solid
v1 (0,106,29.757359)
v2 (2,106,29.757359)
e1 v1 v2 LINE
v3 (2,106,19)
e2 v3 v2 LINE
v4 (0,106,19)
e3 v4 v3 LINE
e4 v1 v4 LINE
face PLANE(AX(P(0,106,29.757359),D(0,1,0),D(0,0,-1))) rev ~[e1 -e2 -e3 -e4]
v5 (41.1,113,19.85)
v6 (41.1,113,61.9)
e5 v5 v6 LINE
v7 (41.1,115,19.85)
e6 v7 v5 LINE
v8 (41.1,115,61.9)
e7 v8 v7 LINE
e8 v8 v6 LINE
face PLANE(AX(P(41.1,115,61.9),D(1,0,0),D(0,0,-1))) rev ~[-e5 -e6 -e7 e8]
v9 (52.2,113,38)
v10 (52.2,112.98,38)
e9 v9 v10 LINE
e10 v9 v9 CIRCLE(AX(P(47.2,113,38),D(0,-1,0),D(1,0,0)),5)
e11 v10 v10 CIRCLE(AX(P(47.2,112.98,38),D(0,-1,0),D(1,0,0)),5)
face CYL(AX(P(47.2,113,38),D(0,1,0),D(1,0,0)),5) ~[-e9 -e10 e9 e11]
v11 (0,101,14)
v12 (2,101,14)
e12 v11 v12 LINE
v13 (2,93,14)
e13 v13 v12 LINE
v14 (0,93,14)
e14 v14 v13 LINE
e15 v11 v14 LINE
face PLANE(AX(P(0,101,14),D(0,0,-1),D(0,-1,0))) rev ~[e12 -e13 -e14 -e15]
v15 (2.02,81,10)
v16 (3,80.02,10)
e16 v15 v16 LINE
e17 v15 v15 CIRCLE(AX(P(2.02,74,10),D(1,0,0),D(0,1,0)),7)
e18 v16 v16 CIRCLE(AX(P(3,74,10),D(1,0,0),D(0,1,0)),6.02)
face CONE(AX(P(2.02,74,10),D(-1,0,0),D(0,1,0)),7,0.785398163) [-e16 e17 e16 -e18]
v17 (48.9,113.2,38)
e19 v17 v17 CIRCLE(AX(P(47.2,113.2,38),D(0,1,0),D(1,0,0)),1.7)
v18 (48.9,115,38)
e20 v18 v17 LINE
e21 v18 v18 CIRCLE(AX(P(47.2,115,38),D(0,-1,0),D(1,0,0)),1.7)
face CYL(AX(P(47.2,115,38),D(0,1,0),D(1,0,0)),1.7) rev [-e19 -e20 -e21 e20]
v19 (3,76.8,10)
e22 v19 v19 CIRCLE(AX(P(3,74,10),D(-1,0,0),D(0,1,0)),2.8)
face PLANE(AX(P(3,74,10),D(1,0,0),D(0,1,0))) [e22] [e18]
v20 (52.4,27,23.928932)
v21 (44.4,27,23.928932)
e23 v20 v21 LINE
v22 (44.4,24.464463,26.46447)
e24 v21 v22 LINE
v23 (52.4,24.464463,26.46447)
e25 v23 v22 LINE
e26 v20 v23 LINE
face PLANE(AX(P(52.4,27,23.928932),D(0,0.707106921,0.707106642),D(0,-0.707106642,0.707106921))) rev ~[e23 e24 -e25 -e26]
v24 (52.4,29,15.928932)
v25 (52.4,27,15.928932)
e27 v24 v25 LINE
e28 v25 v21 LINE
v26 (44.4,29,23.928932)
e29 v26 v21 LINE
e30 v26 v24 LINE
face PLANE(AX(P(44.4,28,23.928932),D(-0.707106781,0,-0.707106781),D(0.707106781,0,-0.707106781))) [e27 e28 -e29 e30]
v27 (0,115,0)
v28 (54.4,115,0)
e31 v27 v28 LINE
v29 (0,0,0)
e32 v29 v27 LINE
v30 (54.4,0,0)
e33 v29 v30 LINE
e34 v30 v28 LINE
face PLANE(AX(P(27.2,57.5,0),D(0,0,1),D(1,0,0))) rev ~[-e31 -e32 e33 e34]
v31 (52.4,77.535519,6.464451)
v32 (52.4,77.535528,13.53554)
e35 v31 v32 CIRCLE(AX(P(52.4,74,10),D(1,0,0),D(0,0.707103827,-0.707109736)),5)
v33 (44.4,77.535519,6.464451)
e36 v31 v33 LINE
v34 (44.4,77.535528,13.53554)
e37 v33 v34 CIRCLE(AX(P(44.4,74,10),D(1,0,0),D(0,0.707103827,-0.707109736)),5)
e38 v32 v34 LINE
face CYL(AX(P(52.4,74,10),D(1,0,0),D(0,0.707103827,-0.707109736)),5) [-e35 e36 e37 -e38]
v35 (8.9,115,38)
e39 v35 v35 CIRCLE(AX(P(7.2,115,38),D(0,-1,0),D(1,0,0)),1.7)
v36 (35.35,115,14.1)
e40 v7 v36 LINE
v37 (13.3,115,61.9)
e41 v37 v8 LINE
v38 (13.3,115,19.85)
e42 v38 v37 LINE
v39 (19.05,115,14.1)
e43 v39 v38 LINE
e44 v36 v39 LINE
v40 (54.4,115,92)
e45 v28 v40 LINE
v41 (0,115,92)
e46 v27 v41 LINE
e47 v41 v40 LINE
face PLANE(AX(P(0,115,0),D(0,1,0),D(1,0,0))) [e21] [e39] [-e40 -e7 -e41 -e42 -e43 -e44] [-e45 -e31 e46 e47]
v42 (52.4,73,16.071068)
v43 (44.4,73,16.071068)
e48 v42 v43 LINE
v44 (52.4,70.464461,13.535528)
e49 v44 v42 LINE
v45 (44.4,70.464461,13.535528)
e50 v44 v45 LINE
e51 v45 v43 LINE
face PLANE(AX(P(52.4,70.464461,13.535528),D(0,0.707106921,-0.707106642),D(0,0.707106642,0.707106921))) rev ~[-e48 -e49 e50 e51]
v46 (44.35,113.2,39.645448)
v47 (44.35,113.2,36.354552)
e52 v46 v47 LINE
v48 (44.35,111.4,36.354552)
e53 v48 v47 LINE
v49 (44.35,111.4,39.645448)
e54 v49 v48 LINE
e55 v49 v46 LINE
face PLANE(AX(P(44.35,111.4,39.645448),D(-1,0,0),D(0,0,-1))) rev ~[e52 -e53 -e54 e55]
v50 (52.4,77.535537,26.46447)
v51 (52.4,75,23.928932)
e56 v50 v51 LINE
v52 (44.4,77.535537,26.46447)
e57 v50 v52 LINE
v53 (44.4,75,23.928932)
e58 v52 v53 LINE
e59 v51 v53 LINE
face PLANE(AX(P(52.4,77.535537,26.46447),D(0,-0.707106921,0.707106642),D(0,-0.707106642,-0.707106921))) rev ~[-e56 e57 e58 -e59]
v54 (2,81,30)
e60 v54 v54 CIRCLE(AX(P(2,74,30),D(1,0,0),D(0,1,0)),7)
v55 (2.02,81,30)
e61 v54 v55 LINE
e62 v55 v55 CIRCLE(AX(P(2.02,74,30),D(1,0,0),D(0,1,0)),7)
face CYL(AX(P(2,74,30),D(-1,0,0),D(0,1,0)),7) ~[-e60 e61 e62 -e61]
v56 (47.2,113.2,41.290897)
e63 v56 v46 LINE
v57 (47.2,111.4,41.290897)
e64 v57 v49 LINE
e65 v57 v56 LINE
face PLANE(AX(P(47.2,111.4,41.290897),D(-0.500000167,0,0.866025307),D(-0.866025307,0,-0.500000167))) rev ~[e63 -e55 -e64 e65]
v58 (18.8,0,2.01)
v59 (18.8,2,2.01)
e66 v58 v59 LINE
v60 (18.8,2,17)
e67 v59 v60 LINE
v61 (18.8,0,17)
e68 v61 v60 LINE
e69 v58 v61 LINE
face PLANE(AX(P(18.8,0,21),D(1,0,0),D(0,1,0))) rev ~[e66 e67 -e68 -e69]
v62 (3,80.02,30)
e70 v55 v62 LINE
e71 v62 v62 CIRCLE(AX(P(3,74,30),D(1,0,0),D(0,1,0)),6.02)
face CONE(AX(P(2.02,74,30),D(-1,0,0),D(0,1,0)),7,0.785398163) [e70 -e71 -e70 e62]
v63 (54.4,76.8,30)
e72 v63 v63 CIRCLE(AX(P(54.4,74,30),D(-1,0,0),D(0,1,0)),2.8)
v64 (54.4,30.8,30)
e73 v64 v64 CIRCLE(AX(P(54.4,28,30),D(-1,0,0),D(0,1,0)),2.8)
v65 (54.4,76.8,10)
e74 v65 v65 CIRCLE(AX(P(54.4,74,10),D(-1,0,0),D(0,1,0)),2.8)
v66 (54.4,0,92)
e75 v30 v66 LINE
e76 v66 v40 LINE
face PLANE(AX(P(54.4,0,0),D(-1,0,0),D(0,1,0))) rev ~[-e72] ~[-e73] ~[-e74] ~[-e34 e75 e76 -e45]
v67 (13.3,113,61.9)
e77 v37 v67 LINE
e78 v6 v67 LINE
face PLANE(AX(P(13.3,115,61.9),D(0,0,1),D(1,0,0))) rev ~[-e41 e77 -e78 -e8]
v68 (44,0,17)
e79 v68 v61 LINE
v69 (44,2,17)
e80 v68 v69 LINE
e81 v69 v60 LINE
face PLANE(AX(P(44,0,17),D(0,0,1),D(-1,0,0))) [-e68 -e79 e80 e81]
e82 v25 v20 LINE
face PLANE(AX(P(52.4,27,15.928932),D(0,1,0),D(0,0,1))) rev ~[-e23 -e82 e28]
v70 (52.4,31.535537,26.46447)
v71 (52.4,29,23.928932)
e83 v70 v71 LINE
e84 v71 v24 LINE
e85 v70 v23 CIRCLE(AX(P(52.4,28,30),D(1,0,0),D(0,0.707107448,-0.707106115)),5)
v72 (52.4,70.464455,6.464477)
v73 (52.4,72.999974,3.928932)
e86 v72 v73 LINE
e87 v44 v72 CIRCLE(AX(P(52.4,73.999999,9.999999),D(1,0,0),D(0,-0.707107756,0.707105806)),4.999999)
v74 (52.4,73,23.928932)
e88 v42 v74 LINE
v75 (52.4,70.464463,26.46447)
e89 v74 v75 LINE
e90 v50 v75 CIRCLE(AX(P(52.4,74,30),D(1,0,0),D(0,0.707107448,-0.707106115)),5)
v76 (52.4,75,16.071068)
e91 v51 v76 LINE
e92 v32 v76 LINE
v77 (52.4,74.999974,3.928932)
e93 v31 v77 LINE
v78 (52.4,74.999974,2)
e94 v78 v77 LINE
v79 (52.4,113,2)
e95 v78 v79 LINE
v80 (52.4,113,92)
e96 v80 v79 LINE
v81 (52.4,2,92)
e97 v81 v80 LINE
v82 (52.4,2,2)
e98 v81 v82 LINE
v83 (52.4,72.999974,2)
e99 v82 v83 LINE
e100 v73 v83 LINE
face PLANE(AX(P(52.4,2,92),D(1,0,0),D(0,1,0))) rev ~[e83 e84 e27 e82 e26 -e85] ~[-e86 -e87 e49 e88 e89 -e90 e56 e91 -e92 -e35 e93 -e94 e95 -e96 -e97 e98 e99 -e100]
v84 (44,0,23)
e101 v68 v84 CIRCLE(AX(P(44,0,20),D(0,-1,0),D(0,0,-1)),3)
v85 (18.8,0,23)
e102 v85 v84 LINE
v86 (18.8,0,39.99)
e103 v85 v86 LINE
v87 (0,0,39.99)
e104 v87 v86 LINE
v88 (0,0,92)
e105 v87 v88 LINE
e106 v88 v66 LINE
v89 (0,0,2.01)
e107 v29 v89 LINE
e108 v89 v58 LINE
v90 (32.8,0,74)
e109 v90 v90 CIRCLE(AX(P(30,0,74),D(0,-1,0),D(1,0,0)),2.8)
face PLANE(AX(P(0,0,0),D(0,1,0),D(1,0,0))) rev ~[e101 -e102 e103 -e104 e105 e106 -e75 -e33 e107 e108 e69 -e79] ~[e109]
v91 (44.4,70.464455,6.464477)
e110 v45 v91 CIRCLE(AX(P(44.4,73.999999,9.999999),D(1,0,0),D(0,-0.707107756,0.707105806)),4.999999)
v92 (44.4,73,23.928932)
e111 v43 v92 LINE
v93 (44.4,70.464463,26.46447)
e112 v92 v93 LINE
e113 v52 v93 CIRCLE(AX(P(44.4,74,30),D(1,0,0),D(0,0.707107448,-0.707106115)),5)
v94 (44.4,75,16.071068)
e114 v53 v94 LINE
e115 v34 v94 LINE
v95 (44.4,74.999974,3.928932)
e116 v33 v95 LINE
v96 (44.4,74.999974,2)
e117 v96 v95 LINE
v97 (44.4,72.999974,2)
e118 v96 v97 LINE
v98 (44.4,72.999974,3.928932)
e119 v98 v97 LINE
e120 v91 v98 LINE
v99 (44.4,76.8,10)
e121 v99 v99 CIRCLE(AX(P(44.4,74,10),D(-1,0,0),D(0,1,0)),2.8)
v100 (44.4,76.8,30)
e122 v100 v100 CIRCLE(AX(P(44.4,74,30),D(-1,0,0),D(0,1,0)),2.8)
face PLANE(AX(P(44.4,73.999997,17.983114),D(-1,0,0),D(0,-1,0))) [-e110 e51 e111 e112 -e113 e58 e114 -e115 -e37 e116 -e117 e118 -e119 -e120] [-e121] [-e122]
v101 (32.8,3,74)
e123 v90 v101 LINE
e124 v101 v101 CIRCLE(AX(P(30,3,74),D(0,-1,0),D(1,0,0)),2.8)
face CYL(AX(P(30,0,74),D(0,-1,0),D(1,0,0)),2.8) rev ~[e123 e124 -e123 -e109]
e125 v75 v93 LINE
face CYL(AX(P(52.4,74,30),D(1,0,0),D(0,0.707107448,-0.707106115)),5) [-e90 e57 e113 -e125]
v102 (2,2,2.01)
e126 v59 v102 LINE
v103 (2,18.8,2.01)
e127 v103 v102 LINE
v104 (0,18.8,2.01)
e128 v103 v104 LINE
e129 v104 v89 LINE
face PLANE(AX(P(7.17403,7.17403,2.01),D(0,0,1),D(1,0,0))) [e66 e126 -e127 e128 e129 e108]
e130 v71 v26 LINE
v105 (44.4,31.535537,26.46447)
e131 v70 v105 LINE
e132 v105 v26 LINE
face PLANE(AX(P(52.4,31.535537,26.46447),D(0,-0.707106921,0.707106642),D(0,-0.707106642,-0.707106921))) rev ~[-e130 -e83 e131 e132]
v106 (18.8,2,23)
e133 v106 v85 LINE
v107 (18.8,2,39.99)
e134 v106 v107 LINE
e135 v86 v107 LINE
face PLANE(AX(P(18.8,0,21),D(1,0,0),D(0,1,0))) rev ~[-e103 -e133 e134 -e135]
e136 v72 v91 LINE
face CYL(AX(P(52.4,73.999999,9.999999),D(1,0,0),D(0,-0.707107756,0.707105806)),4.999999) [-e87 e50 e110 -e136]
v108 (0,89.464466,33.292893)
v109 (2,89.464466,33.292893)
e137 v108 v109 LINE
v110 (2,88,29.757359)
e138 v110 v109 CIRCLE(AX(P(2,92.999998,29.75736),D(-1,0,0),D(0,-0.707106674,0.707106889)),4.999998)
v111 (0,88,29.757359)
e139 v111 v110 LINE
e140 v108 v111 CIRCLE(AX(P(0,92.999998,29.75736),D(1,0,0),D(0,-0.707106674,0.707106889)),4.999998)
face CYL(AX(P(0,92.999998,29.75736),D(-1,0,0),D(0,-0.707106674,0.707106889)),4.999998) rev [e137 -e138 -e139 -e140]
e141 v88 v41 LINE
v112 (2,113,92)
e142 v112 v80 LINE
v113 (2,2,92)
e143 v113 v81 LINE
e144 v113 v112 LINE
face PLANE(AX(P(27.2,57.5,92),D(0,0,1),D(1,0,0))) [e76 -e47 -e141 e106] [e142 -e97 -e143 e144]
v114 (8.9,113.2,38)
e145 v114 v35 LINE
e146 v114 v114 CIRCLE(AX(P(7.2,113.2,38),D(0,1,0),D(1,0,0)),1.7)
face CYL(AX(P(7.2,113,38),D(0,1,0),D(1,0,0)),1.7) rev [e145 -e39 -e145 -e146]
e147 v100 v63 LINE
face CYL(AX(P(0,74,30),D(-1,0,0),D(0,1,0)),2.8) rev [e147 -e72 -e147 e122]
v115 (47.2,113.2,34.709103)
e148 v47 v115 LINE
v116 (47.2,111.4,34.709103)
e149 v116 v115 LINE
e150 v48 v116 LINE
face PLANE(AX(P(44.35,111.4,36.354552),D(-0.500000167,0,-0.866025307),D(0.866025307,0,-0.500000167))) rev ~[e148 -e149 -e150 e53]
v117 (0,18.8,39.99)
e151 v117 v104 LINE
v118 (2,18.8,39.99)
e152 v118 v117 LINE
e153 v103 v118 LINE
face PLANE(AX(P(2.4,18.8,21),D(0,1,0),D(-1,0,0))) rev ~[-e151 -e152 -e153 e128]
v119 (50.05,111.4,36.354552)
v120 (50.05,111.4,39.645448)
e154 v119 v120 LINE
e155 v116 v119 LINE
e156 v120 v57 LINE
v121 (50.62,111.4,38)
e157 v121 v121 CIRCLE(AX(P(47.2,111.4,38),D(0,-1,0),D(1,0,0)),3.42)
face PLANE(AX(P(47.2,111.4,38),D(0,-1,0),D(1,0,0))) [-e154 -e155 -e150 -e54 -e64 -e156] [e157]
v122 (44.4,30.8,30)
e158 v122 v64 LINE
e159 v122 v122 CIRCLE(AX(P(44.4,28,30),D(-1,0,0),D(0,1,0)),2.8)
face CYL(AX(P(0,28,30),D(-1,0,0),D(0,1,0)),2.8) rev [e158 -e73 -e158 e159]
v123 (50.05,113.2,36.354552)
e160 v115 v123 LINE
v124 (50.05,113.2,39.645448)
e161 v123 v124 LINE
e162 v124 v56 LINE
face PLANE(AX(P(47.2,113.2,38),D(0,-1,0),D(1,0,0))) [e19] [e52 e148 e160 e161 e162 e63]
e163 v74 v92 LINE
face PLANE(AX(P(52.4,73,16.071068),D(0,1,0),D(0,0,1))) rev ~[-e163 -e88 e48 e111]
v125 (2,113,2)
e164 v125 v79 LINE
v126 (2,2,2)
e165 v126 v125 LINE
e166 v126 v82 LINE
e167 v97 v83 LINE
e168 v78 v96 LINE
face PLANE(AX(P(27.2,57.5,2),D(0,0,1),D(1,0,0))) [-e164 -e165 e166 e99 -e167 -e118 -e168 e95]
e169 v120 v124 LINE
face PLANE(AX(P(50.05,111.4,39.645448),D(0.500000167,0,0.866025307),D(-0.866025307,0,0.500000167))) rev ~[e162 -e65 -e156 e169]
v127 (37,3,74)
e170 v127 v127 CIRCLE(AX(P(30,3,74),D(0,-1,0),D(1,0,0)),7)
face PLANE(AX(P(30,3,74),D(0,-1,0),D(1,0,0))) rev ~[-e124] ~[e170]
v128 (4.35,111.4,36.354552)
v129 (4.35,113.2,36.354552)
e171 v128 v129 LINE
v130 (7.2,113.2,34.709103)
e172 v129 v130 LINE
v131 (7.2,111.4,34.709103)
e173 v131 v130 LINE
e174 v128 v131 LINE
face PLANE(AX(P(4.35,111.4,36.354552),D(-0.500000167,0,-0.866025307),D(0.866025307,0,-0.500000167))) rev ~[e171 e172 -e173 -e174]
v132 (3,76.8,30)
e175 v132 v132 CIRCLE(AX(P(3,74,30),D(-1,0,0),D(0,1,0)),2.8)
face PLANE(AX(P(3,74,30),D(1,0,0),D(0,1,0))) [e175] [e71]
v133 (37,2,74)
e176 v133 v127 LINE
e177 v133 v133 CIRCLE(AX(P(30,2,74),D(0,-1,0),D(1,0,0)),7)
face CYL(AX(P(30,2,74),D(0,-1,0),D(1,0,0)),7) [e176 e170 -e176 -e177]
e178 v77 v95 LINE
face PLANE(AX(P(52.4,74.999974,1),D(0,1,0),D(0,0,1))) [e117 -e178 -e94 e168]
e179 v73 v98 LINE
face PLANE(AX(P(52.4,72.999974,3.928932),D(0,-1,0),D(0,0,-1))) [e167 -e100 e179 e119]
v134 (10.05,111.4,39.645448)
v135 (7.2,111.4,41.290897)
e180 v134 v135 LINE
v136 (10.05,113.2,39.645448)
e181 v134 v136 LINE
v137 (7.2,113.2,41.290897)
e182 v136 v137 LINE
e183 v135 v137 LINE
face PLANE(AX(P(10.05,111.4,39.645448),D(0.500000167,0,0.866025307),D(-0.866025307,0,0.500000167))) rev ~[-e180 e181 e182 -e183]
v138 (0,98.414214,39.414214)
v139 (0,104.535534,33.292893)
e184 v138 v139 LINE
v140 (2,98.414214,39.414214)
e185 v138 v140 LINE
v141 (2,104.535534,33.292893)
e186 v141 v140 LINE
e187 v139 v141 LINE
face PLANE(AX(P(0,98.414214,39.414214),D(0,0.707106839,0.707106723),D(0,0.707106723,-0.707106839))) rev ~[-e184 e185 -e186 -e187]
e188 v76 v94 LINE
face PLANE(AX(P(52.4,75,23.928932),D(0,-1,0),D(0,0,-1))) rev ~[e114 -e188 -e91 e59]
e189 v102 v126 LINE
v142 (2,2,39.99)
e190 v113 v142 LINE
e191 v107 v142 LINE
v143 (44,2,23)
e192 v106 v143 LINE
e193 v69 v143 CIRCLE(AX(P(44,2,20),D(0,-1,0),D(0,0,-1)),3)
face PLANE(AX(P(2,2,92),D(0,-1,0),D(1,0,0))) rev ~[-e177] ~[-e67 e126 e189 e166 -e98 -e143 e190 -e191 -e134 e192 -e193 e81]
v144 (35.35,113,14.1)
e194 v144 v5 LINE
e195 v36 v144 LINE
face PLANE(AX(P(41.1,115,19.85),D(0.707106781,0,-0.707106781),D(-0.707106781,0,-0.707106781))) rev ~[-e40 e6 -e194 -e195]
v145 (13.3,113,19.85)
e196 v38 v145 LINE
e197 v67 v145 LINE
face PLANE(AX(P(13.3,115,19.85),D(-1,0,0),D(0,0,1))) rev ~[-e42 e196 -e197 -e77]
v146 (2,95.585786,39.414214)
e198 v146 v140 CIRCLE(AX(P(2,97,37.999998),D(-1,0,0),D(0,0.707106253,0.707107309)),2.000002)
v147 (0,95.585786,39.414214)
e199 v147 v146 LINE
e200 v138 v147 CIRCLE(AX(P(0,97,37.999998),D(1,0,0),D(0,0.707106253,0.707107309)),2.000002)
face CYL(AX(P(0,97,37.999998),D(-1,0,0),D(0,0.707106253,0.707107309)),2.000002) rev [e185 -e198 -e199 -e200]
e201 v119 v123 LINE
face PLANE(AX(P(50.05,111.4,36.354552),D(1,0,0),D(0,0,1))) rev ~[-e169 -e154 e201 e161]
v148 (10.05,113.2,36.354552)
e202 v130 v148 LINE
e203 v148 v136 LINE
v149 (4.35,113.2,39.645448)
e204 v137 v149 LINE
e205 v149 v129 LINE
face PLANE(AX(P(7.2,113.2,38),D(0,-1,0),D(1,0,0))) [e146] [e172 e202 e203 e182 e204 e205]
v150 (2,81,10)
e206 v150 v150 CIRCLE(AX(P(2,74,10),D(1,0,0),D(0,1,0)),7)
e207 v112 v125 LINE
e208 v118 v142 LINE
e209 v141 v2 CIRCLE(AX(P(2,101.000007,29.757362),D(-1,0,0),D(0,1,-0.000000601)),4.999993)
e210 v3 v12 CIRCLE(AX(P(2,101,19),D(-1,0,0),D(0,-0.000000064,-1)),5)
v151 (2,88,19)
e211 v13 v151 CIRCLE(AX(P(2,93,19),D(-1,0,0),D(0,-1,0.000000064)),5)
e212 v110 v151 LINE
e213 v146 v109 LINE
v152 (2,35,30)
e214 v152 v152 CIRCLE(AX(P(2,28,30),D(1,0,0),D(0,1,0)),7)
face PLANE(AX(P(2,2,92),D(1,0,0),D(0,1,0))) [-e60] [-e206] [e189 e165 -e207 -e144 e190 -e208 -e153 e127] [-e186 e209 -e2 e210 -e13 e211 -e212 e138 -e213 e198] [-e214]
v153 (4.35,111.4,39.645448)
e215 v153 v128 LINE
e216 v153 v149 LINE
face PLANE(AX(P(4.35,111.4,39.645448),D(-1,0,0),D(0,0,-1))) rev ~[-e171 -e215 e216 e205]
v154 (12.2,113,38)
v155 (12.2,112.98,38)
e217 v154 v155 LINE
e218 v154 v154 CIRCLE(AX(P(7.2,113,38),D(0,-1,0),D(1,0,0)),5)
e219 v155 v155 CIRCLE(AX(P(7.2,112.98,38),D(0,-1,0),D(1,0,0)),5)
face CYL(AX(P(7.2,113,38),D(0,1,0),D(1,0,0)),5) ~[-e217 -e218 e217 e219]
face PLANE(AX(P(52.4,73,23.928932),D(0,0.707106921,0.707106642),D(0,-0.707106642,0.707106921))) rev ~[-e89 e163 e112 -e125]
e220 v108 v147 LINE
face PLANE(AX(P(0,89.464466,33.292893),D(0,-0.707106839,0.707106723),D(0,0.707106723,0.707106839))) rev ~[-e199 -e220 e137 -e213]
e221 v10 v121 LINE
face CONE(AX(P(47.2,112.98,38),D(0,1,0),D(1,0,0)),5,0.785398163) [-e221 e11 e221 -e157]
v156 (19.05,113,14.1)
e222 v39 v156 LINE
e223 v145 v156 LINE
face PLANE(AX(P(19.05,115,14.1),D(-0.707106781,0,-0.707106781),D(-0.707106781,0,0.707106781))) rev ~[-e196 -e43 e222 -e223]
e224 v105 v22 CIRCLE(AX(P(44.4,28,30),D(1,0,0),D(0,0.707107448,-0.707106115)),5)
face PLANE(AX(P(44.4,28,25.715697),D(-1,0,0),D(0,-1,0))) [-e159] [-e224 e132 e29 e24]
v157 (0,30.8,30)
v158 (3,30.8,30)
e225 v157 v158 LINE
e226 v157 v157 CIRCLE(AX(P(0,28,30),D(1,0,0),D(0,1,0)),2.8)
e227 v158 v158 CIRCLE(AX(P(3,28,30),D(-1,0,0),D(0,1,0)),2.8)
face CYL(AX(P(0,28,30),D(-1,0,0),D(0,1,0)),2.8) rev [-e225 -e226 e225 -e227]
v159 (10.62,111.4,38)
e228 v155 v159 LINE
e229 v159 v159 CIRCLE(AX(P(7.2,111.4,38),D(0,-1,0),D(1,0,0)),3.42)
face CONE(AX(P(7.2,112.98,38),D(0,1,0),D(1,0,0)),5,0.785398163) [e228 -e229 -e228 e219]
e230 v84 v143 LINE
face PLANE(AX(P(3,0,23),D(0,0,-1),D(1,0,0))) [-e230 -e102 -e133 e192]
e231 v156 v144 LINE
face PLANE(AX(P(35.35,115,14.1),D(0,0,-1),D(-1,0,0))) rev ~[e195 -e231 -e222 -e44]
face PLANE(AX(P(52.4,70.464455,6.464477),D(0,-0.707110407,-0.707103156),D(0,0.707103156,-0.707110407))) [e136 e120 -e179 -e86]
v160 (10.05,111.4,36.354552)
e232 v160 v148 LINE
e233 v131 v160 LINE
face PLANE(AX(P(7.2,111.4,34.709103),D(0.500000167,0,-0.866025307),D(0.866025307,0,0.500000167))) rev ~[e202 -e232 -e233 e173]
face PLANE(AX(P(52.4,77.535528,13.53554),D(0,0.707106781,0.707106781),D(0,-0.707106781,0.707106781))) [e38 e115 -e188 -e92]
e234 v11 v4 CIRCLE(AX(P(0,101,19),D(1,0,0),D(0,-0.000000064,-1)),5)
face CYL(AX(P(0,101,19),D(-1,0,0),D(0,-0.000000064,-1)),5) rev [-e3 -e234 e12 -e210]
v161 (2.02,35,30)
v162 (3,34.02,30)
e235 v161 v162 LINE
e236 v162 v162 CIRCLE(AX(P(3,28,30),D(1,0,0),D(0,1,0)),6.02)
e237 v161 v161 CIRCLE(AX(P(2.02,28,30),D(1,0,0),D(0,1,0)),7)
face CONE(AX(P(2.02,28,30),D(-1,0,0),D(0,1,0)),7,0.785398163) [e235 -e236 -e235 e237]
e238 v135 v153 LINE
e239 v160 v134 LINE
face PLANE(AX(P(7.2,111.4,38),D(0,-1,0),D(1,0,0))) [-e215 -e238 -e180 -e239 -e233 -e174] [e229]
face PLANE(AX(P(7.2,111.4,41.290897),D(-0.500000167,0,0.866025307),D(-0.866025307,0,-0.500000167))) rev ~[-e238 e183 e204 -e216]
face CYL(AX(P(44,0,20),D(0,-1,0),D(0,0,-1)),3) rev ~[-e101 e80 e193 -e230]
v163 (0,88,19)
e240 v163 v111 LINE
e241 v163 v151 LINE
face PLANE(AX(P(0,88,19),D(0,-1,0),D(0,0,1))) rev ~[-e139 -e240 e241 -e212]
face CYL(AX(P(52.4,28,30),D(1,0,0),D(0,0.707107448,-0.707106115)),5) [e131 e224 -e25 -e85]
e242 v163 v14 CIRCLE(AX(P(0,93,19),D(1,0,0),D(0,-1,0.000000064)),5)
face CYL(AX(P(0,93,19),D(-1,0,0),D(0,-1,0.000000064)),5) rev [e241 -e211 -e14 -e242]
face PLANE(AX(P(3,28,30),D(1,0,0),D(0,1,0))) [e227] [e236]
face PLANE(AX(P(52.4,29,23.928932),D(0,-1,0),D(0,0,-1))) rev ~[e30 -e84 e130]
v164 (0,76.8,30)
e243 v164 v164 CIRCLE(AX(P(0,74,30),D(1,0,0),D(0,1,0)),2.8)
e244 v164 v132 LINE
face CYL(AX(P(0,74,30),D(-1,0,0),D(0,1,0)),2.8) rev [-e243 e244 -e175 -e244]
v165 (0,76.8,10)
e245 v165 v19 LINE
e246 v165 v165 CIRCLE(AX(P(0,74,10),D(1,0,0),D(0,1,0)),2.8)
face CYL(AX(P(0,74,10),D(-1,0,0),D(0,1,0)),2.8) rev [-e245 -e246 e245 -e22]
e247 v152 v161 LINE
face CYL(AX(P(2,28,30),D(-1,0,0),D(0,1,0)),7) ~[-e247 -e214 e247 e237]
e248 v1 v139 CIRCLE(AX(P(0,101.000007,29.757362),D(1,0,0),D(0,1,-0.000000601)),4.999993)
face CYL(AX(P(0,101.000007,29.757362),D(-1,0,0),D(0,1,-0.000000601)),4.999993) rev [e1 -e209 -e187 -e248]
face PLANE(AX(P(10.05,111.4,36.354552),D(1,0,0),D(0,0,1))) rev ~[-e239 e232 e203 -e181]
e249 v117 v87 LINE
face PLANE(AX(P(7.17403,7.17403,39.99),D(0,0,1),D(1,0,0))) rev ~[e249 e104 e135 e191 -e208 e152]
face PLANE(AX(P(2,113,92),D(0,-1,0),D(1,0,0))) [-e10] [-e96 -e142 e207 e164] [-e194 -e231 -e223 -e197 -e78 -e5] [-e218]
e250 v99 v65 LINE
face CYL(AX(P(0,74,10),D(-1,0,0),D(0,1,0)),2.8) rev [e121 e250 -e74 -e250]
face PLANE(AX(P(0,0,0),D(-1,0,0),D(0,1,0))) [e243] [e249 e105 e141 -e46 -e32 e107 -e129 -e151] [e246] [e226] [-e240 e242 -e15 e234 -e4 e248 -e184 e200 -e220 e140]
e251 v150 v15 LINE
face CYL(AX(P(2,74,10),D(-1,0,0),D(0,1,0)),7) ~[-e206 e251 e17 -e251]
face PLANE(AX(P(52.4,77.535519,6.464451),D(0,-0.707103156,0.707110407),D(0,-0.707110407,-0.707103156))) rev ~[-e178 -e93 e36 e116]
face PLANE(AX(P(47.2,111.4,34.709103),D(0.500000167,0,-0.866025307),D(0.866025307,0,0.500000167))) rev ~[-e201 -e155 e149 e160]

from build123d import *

# Parameters (mm, degrees)
SKETCH_W        = 54.4
SKETCH_H        = 115
PAD_DEPTH       = 92
SKETCH001_W     = 50.4
SKETCH001_H     = 111
POCKET_DEPTH    = 90
POCKET001_DEPTH = 3
SKETCH003_R     = 1.7
POCKET002_DEPTH = 3
POCKET003_DEPTH = 18.99
POCKET004_DEPTH = 2.02
SKETCH006_R     = 5
SKETCH006_R_2   = 1.7
PAD001_DEPTH    = 1.6
POCKET005_DEPTH = 1.8
SKETCH008_R     = 7
PAD002_DEPTH    = 1
PAD003_DEPTH    = 8
POCKET006_DEPTH = 1.5
SKETCH011_R     = 2.8
POCKET007_DEPTH = 54.401
SKETCH012_R     = 7
PAD004_DEPTH    = 1
SKETCH013_R     = 2.8
POCKET008_DEPTH = 4
CHAMFER_SIZE    = 0.98
CHAMFER001_SIZE = 1.58


with BuildPart() as part:
    # Sketch → Pad (new body)
    with BuildSketch(Plane.XY):
        with Locations((27.2, 57.5)):
            Rectangle(SKETCH_W, SKETCH_H)
    extrude(amount=PAD_DEPTH)

    # Sketch001 → Pocket (cut)
    with BuildSketch(Plane.XY.offset(92)):
        with Locations((27.2, 57.5)):
            Rectangle(SKETCH001_W, SKETCH001_H)
    extrude(amount=-POCKET_DEPTH, mode=Mode.SUBTRACT)

    # Sketch002 → Pocket001 (cut)
    with BuildSketch(Plane.XZ):
        with BuildLine():
            Line((3, 23), (44, 23))
            ThreePointArc((44, 17), (47, 20), (44, 23))
            Line((44, 17), (3, 17))
            Line((3, 17), (3, 23))
        make_face()
    extrude(amount=-POCKET001_DEPTH, mode=Mode.SUBTRACT)

    # Sketch003 → Pocket002 (cut)
    with BuildSketch(Plane.XZ.offset(-115)):
        with Locations((7.2, 38)):
            Circle(SKETCH003_R)
        with Locations((47.2, 38)):
            Circle(SKETCH003_R)
        Polygon((13.3, 61.9), (41.1, 61.9), (41.1, 19.85), (35.35, 14.1), (19.05, 14.1), (13.3, 19.85), align=None)
    extrude(amount=POCKET002_DEPTH, mode=Mode.SUBTRACT)

    # Sketch004 → Pocket003 (cut, symmetric)
    with BuildSketch(Plane.XY.offset(21)):
        Polygon((0, 0), (18.8, 0), (18.8, 2.4), (2.4, 18.8), (0, 18.8), align=None)
    extrude(amount=POCKET003_DEPTH, both=True, mode=Mode.SUBTRACT)

    # Sketch005 → Pocket004 (cut)
    with BuildSketch(Plane.YZ):
        with BuildLine():
            Line((106, 29.757359), (106, 19))
            ThreePointArc((101, 14), (104.535534, 15.464466), (106, 19))
            Line((101, 14), (93, 14))
            ThreePointArc((88, 19), (89.464466, 15.464466), (93, 14))
            Line((88, 19), (88, 29.757359))
            ThreePointArc((89.464466, 33.292893), (88.380602, 31.670776), (88, 29.757359))
            Line((89.464466, 33.292893), (95.585786, 39.414214))
            ThreePointArc((98.414214, 39.414214), (97, 40), (95.585786, 39.414214))
            Line((98.414214, 39.414214), (104.535534, 33.292893))
            ThreePointArc((106, 29.757359), (105.619398, 31.670777), (104.535534, 33.292893))
        make_face()
    extrude(amount=POCKET004_DEPTH, mode=Mode.SUBTRACT)

    # Sketch006 → Pad001 (join)
    with BuildSketch(Plane.XZ.offset(-113)):
        with Locations((7.2, 38)):
            Circle(SKETCH006_R)
        with Locations((7.2, 38)):
            Circle(SKETCH006_R_2, mode=Mode.SUBTRACT)
        with Locations((47.2, 38)):
            Circle(SKETCH006_R)
        with Locations((47.2, 38)):
            Circle(SKETCH006_R_2, mode=Mode.SUBTRACT)
    extrude(amount=PAD001_DEPTH)

    # Sketch007 → Pocket005 (cut)
    with BuildSketch(Plane.XZ.offset(-111.4)):
        Polygon((7.2, 41.290897), (4.35, 39.645448), (4.35, 36.354552), (7.2, 34.709103), (10.05, 36.354552), (10.05, 39.645448), align=None)
        Polygon((47.2, 41.290897), (44.35, 39.645448), (44.35, 36.354552), (47.2, 34.709103), (50.05, 36.354552), (50.05, 39.645448), align=None)
    extrude(amount=-POCKET005_DEPTH, mode=Mode.SUBTRACT)

    # Sketch008 → Pad002 (join)
    with BuildSketch(Plane.YZ.offset(2)):
        with Locations((28, 30)):
            Circle(SKETCH008_R)
        with Locations((74, 30)):
            Circle(SKETCH008_R)
        with Locations((74, 10)):
            Circle(SKETCH008_R)
    extrude(amount=PAD002_DEPTH)

    # Sketch009 → Pad003 (join)
    with BuildSketch(Plane.YZ.offset(52.4)):
        with BuildLine():
            Line((31.535537, 26.46447), (29, 23.928932))
            Line((29, 23.928932), (29, 15.928932))
            Line((29, 15.928932), (27, 15.928932))
            Line((27, 15.928932), (27, 23.928932))
            Line((27, 23.928932), (24.464463, 26.46447))
            ThreePointArc((31.535537, 26.46447), (28, 35), (24.464463, 26.46447))
        make_face()
        with BuildLine():
            Line((77.535537, 26.46447), (75, 23.928932))
            Line((75, 23.928932), (75, 16.071068))
            Line((77.535528, 13.53554), (75, 16.071068))
            ThreePointArc((77.535519, 6.464451), (79, 9.999994), (77.535528, 13.53554))
            Line((77.535519, 6.464451), (74.999974, 3.928932))
            Line((74.999974, 1), (74.999974, 3.928932))
            Line((72.999974, 1), (74.999974, 1))
            Line((72.999974, 3.928932), (72.999974, 1))
            Line((70.464455, 6.464477), (72.999974, 3.928932))
            ThreePointArc((70.464461, 13.535528), (69, 10.000004), (70.464455, 6.464477))
            Line((70.464461, 13.535528), (73, 16.071068))
            Line((73, 16.071068), (73, 23.928932))
            Line((73, 23.928932), (70.464463, 26.46447))
            ThreePointArc((77.535537, 26.46447), (74, 35), (70.464463, 26.46447))
        make_face()
    extrude(amount=-PAD003_DEPTH)

    # Sketch010 → Pocket006 (cut, symmetric)
    with BuildSketch(Plane.XZ.offset(-28)):
        Polygon((44.4, 23.928932), (52.4, 15.928932), (44.4, 15.928932), align=None)
    extrude(amount=POCKET006_DEPTH, both=True, mode=Mode.SUBTRACT)

    # Sketch011 → Pocket007 (cut, through all)
    with BuildSketch(Plane.YZ):
        with Locations((28, 30)):
            Circle(SKETCH011_R)
        with Locations((74, 30)):
            Circle(SKETCH011_R)
        with Locations((74, 10)):
            Circle(SKETCH011_R)
    extrude(amount=POCKET007_DEPTH, mode=Mode.SUBTRACT)

    # Sketch012 → Pad004 (join)
    with BuildSketch(Plane.XZ.offset(-2)):
        with Locations((30, 74)):
            Circle(SKETCH012_R)
    extrude(amount=-PAD004_DEPTH)

    # Sketch013 → Pocket008 (cut)
    with BuildSketch(Plane.XZ):
        with Locations((30, 74)):
            Circle(SKETCH013_R)
    extrude(amount=-POCKET008_DEPTH, mode=Mode.SUBTRACT)

    # Chamfer
    chamfer_edges = [part.edges().sort_by_distance(p)[0] for p in [
        (3, 21, 30),
        (3, 67, 30),
        (3, 67, 10),
    ]]
    chamfer(chamfer_edges, length=CHAMFER_SIZE)

    # Chamfer001
    chamfer001_edges = [part.edges().sort_by_distance(p)[0] for p in [
        (42.2, 111.4, 38),
        (2.2, 111.4, 38),
    ]]
    chamfer(chamfer001_edges, length=CHAMFER001_SIZE)


solid = part.part
